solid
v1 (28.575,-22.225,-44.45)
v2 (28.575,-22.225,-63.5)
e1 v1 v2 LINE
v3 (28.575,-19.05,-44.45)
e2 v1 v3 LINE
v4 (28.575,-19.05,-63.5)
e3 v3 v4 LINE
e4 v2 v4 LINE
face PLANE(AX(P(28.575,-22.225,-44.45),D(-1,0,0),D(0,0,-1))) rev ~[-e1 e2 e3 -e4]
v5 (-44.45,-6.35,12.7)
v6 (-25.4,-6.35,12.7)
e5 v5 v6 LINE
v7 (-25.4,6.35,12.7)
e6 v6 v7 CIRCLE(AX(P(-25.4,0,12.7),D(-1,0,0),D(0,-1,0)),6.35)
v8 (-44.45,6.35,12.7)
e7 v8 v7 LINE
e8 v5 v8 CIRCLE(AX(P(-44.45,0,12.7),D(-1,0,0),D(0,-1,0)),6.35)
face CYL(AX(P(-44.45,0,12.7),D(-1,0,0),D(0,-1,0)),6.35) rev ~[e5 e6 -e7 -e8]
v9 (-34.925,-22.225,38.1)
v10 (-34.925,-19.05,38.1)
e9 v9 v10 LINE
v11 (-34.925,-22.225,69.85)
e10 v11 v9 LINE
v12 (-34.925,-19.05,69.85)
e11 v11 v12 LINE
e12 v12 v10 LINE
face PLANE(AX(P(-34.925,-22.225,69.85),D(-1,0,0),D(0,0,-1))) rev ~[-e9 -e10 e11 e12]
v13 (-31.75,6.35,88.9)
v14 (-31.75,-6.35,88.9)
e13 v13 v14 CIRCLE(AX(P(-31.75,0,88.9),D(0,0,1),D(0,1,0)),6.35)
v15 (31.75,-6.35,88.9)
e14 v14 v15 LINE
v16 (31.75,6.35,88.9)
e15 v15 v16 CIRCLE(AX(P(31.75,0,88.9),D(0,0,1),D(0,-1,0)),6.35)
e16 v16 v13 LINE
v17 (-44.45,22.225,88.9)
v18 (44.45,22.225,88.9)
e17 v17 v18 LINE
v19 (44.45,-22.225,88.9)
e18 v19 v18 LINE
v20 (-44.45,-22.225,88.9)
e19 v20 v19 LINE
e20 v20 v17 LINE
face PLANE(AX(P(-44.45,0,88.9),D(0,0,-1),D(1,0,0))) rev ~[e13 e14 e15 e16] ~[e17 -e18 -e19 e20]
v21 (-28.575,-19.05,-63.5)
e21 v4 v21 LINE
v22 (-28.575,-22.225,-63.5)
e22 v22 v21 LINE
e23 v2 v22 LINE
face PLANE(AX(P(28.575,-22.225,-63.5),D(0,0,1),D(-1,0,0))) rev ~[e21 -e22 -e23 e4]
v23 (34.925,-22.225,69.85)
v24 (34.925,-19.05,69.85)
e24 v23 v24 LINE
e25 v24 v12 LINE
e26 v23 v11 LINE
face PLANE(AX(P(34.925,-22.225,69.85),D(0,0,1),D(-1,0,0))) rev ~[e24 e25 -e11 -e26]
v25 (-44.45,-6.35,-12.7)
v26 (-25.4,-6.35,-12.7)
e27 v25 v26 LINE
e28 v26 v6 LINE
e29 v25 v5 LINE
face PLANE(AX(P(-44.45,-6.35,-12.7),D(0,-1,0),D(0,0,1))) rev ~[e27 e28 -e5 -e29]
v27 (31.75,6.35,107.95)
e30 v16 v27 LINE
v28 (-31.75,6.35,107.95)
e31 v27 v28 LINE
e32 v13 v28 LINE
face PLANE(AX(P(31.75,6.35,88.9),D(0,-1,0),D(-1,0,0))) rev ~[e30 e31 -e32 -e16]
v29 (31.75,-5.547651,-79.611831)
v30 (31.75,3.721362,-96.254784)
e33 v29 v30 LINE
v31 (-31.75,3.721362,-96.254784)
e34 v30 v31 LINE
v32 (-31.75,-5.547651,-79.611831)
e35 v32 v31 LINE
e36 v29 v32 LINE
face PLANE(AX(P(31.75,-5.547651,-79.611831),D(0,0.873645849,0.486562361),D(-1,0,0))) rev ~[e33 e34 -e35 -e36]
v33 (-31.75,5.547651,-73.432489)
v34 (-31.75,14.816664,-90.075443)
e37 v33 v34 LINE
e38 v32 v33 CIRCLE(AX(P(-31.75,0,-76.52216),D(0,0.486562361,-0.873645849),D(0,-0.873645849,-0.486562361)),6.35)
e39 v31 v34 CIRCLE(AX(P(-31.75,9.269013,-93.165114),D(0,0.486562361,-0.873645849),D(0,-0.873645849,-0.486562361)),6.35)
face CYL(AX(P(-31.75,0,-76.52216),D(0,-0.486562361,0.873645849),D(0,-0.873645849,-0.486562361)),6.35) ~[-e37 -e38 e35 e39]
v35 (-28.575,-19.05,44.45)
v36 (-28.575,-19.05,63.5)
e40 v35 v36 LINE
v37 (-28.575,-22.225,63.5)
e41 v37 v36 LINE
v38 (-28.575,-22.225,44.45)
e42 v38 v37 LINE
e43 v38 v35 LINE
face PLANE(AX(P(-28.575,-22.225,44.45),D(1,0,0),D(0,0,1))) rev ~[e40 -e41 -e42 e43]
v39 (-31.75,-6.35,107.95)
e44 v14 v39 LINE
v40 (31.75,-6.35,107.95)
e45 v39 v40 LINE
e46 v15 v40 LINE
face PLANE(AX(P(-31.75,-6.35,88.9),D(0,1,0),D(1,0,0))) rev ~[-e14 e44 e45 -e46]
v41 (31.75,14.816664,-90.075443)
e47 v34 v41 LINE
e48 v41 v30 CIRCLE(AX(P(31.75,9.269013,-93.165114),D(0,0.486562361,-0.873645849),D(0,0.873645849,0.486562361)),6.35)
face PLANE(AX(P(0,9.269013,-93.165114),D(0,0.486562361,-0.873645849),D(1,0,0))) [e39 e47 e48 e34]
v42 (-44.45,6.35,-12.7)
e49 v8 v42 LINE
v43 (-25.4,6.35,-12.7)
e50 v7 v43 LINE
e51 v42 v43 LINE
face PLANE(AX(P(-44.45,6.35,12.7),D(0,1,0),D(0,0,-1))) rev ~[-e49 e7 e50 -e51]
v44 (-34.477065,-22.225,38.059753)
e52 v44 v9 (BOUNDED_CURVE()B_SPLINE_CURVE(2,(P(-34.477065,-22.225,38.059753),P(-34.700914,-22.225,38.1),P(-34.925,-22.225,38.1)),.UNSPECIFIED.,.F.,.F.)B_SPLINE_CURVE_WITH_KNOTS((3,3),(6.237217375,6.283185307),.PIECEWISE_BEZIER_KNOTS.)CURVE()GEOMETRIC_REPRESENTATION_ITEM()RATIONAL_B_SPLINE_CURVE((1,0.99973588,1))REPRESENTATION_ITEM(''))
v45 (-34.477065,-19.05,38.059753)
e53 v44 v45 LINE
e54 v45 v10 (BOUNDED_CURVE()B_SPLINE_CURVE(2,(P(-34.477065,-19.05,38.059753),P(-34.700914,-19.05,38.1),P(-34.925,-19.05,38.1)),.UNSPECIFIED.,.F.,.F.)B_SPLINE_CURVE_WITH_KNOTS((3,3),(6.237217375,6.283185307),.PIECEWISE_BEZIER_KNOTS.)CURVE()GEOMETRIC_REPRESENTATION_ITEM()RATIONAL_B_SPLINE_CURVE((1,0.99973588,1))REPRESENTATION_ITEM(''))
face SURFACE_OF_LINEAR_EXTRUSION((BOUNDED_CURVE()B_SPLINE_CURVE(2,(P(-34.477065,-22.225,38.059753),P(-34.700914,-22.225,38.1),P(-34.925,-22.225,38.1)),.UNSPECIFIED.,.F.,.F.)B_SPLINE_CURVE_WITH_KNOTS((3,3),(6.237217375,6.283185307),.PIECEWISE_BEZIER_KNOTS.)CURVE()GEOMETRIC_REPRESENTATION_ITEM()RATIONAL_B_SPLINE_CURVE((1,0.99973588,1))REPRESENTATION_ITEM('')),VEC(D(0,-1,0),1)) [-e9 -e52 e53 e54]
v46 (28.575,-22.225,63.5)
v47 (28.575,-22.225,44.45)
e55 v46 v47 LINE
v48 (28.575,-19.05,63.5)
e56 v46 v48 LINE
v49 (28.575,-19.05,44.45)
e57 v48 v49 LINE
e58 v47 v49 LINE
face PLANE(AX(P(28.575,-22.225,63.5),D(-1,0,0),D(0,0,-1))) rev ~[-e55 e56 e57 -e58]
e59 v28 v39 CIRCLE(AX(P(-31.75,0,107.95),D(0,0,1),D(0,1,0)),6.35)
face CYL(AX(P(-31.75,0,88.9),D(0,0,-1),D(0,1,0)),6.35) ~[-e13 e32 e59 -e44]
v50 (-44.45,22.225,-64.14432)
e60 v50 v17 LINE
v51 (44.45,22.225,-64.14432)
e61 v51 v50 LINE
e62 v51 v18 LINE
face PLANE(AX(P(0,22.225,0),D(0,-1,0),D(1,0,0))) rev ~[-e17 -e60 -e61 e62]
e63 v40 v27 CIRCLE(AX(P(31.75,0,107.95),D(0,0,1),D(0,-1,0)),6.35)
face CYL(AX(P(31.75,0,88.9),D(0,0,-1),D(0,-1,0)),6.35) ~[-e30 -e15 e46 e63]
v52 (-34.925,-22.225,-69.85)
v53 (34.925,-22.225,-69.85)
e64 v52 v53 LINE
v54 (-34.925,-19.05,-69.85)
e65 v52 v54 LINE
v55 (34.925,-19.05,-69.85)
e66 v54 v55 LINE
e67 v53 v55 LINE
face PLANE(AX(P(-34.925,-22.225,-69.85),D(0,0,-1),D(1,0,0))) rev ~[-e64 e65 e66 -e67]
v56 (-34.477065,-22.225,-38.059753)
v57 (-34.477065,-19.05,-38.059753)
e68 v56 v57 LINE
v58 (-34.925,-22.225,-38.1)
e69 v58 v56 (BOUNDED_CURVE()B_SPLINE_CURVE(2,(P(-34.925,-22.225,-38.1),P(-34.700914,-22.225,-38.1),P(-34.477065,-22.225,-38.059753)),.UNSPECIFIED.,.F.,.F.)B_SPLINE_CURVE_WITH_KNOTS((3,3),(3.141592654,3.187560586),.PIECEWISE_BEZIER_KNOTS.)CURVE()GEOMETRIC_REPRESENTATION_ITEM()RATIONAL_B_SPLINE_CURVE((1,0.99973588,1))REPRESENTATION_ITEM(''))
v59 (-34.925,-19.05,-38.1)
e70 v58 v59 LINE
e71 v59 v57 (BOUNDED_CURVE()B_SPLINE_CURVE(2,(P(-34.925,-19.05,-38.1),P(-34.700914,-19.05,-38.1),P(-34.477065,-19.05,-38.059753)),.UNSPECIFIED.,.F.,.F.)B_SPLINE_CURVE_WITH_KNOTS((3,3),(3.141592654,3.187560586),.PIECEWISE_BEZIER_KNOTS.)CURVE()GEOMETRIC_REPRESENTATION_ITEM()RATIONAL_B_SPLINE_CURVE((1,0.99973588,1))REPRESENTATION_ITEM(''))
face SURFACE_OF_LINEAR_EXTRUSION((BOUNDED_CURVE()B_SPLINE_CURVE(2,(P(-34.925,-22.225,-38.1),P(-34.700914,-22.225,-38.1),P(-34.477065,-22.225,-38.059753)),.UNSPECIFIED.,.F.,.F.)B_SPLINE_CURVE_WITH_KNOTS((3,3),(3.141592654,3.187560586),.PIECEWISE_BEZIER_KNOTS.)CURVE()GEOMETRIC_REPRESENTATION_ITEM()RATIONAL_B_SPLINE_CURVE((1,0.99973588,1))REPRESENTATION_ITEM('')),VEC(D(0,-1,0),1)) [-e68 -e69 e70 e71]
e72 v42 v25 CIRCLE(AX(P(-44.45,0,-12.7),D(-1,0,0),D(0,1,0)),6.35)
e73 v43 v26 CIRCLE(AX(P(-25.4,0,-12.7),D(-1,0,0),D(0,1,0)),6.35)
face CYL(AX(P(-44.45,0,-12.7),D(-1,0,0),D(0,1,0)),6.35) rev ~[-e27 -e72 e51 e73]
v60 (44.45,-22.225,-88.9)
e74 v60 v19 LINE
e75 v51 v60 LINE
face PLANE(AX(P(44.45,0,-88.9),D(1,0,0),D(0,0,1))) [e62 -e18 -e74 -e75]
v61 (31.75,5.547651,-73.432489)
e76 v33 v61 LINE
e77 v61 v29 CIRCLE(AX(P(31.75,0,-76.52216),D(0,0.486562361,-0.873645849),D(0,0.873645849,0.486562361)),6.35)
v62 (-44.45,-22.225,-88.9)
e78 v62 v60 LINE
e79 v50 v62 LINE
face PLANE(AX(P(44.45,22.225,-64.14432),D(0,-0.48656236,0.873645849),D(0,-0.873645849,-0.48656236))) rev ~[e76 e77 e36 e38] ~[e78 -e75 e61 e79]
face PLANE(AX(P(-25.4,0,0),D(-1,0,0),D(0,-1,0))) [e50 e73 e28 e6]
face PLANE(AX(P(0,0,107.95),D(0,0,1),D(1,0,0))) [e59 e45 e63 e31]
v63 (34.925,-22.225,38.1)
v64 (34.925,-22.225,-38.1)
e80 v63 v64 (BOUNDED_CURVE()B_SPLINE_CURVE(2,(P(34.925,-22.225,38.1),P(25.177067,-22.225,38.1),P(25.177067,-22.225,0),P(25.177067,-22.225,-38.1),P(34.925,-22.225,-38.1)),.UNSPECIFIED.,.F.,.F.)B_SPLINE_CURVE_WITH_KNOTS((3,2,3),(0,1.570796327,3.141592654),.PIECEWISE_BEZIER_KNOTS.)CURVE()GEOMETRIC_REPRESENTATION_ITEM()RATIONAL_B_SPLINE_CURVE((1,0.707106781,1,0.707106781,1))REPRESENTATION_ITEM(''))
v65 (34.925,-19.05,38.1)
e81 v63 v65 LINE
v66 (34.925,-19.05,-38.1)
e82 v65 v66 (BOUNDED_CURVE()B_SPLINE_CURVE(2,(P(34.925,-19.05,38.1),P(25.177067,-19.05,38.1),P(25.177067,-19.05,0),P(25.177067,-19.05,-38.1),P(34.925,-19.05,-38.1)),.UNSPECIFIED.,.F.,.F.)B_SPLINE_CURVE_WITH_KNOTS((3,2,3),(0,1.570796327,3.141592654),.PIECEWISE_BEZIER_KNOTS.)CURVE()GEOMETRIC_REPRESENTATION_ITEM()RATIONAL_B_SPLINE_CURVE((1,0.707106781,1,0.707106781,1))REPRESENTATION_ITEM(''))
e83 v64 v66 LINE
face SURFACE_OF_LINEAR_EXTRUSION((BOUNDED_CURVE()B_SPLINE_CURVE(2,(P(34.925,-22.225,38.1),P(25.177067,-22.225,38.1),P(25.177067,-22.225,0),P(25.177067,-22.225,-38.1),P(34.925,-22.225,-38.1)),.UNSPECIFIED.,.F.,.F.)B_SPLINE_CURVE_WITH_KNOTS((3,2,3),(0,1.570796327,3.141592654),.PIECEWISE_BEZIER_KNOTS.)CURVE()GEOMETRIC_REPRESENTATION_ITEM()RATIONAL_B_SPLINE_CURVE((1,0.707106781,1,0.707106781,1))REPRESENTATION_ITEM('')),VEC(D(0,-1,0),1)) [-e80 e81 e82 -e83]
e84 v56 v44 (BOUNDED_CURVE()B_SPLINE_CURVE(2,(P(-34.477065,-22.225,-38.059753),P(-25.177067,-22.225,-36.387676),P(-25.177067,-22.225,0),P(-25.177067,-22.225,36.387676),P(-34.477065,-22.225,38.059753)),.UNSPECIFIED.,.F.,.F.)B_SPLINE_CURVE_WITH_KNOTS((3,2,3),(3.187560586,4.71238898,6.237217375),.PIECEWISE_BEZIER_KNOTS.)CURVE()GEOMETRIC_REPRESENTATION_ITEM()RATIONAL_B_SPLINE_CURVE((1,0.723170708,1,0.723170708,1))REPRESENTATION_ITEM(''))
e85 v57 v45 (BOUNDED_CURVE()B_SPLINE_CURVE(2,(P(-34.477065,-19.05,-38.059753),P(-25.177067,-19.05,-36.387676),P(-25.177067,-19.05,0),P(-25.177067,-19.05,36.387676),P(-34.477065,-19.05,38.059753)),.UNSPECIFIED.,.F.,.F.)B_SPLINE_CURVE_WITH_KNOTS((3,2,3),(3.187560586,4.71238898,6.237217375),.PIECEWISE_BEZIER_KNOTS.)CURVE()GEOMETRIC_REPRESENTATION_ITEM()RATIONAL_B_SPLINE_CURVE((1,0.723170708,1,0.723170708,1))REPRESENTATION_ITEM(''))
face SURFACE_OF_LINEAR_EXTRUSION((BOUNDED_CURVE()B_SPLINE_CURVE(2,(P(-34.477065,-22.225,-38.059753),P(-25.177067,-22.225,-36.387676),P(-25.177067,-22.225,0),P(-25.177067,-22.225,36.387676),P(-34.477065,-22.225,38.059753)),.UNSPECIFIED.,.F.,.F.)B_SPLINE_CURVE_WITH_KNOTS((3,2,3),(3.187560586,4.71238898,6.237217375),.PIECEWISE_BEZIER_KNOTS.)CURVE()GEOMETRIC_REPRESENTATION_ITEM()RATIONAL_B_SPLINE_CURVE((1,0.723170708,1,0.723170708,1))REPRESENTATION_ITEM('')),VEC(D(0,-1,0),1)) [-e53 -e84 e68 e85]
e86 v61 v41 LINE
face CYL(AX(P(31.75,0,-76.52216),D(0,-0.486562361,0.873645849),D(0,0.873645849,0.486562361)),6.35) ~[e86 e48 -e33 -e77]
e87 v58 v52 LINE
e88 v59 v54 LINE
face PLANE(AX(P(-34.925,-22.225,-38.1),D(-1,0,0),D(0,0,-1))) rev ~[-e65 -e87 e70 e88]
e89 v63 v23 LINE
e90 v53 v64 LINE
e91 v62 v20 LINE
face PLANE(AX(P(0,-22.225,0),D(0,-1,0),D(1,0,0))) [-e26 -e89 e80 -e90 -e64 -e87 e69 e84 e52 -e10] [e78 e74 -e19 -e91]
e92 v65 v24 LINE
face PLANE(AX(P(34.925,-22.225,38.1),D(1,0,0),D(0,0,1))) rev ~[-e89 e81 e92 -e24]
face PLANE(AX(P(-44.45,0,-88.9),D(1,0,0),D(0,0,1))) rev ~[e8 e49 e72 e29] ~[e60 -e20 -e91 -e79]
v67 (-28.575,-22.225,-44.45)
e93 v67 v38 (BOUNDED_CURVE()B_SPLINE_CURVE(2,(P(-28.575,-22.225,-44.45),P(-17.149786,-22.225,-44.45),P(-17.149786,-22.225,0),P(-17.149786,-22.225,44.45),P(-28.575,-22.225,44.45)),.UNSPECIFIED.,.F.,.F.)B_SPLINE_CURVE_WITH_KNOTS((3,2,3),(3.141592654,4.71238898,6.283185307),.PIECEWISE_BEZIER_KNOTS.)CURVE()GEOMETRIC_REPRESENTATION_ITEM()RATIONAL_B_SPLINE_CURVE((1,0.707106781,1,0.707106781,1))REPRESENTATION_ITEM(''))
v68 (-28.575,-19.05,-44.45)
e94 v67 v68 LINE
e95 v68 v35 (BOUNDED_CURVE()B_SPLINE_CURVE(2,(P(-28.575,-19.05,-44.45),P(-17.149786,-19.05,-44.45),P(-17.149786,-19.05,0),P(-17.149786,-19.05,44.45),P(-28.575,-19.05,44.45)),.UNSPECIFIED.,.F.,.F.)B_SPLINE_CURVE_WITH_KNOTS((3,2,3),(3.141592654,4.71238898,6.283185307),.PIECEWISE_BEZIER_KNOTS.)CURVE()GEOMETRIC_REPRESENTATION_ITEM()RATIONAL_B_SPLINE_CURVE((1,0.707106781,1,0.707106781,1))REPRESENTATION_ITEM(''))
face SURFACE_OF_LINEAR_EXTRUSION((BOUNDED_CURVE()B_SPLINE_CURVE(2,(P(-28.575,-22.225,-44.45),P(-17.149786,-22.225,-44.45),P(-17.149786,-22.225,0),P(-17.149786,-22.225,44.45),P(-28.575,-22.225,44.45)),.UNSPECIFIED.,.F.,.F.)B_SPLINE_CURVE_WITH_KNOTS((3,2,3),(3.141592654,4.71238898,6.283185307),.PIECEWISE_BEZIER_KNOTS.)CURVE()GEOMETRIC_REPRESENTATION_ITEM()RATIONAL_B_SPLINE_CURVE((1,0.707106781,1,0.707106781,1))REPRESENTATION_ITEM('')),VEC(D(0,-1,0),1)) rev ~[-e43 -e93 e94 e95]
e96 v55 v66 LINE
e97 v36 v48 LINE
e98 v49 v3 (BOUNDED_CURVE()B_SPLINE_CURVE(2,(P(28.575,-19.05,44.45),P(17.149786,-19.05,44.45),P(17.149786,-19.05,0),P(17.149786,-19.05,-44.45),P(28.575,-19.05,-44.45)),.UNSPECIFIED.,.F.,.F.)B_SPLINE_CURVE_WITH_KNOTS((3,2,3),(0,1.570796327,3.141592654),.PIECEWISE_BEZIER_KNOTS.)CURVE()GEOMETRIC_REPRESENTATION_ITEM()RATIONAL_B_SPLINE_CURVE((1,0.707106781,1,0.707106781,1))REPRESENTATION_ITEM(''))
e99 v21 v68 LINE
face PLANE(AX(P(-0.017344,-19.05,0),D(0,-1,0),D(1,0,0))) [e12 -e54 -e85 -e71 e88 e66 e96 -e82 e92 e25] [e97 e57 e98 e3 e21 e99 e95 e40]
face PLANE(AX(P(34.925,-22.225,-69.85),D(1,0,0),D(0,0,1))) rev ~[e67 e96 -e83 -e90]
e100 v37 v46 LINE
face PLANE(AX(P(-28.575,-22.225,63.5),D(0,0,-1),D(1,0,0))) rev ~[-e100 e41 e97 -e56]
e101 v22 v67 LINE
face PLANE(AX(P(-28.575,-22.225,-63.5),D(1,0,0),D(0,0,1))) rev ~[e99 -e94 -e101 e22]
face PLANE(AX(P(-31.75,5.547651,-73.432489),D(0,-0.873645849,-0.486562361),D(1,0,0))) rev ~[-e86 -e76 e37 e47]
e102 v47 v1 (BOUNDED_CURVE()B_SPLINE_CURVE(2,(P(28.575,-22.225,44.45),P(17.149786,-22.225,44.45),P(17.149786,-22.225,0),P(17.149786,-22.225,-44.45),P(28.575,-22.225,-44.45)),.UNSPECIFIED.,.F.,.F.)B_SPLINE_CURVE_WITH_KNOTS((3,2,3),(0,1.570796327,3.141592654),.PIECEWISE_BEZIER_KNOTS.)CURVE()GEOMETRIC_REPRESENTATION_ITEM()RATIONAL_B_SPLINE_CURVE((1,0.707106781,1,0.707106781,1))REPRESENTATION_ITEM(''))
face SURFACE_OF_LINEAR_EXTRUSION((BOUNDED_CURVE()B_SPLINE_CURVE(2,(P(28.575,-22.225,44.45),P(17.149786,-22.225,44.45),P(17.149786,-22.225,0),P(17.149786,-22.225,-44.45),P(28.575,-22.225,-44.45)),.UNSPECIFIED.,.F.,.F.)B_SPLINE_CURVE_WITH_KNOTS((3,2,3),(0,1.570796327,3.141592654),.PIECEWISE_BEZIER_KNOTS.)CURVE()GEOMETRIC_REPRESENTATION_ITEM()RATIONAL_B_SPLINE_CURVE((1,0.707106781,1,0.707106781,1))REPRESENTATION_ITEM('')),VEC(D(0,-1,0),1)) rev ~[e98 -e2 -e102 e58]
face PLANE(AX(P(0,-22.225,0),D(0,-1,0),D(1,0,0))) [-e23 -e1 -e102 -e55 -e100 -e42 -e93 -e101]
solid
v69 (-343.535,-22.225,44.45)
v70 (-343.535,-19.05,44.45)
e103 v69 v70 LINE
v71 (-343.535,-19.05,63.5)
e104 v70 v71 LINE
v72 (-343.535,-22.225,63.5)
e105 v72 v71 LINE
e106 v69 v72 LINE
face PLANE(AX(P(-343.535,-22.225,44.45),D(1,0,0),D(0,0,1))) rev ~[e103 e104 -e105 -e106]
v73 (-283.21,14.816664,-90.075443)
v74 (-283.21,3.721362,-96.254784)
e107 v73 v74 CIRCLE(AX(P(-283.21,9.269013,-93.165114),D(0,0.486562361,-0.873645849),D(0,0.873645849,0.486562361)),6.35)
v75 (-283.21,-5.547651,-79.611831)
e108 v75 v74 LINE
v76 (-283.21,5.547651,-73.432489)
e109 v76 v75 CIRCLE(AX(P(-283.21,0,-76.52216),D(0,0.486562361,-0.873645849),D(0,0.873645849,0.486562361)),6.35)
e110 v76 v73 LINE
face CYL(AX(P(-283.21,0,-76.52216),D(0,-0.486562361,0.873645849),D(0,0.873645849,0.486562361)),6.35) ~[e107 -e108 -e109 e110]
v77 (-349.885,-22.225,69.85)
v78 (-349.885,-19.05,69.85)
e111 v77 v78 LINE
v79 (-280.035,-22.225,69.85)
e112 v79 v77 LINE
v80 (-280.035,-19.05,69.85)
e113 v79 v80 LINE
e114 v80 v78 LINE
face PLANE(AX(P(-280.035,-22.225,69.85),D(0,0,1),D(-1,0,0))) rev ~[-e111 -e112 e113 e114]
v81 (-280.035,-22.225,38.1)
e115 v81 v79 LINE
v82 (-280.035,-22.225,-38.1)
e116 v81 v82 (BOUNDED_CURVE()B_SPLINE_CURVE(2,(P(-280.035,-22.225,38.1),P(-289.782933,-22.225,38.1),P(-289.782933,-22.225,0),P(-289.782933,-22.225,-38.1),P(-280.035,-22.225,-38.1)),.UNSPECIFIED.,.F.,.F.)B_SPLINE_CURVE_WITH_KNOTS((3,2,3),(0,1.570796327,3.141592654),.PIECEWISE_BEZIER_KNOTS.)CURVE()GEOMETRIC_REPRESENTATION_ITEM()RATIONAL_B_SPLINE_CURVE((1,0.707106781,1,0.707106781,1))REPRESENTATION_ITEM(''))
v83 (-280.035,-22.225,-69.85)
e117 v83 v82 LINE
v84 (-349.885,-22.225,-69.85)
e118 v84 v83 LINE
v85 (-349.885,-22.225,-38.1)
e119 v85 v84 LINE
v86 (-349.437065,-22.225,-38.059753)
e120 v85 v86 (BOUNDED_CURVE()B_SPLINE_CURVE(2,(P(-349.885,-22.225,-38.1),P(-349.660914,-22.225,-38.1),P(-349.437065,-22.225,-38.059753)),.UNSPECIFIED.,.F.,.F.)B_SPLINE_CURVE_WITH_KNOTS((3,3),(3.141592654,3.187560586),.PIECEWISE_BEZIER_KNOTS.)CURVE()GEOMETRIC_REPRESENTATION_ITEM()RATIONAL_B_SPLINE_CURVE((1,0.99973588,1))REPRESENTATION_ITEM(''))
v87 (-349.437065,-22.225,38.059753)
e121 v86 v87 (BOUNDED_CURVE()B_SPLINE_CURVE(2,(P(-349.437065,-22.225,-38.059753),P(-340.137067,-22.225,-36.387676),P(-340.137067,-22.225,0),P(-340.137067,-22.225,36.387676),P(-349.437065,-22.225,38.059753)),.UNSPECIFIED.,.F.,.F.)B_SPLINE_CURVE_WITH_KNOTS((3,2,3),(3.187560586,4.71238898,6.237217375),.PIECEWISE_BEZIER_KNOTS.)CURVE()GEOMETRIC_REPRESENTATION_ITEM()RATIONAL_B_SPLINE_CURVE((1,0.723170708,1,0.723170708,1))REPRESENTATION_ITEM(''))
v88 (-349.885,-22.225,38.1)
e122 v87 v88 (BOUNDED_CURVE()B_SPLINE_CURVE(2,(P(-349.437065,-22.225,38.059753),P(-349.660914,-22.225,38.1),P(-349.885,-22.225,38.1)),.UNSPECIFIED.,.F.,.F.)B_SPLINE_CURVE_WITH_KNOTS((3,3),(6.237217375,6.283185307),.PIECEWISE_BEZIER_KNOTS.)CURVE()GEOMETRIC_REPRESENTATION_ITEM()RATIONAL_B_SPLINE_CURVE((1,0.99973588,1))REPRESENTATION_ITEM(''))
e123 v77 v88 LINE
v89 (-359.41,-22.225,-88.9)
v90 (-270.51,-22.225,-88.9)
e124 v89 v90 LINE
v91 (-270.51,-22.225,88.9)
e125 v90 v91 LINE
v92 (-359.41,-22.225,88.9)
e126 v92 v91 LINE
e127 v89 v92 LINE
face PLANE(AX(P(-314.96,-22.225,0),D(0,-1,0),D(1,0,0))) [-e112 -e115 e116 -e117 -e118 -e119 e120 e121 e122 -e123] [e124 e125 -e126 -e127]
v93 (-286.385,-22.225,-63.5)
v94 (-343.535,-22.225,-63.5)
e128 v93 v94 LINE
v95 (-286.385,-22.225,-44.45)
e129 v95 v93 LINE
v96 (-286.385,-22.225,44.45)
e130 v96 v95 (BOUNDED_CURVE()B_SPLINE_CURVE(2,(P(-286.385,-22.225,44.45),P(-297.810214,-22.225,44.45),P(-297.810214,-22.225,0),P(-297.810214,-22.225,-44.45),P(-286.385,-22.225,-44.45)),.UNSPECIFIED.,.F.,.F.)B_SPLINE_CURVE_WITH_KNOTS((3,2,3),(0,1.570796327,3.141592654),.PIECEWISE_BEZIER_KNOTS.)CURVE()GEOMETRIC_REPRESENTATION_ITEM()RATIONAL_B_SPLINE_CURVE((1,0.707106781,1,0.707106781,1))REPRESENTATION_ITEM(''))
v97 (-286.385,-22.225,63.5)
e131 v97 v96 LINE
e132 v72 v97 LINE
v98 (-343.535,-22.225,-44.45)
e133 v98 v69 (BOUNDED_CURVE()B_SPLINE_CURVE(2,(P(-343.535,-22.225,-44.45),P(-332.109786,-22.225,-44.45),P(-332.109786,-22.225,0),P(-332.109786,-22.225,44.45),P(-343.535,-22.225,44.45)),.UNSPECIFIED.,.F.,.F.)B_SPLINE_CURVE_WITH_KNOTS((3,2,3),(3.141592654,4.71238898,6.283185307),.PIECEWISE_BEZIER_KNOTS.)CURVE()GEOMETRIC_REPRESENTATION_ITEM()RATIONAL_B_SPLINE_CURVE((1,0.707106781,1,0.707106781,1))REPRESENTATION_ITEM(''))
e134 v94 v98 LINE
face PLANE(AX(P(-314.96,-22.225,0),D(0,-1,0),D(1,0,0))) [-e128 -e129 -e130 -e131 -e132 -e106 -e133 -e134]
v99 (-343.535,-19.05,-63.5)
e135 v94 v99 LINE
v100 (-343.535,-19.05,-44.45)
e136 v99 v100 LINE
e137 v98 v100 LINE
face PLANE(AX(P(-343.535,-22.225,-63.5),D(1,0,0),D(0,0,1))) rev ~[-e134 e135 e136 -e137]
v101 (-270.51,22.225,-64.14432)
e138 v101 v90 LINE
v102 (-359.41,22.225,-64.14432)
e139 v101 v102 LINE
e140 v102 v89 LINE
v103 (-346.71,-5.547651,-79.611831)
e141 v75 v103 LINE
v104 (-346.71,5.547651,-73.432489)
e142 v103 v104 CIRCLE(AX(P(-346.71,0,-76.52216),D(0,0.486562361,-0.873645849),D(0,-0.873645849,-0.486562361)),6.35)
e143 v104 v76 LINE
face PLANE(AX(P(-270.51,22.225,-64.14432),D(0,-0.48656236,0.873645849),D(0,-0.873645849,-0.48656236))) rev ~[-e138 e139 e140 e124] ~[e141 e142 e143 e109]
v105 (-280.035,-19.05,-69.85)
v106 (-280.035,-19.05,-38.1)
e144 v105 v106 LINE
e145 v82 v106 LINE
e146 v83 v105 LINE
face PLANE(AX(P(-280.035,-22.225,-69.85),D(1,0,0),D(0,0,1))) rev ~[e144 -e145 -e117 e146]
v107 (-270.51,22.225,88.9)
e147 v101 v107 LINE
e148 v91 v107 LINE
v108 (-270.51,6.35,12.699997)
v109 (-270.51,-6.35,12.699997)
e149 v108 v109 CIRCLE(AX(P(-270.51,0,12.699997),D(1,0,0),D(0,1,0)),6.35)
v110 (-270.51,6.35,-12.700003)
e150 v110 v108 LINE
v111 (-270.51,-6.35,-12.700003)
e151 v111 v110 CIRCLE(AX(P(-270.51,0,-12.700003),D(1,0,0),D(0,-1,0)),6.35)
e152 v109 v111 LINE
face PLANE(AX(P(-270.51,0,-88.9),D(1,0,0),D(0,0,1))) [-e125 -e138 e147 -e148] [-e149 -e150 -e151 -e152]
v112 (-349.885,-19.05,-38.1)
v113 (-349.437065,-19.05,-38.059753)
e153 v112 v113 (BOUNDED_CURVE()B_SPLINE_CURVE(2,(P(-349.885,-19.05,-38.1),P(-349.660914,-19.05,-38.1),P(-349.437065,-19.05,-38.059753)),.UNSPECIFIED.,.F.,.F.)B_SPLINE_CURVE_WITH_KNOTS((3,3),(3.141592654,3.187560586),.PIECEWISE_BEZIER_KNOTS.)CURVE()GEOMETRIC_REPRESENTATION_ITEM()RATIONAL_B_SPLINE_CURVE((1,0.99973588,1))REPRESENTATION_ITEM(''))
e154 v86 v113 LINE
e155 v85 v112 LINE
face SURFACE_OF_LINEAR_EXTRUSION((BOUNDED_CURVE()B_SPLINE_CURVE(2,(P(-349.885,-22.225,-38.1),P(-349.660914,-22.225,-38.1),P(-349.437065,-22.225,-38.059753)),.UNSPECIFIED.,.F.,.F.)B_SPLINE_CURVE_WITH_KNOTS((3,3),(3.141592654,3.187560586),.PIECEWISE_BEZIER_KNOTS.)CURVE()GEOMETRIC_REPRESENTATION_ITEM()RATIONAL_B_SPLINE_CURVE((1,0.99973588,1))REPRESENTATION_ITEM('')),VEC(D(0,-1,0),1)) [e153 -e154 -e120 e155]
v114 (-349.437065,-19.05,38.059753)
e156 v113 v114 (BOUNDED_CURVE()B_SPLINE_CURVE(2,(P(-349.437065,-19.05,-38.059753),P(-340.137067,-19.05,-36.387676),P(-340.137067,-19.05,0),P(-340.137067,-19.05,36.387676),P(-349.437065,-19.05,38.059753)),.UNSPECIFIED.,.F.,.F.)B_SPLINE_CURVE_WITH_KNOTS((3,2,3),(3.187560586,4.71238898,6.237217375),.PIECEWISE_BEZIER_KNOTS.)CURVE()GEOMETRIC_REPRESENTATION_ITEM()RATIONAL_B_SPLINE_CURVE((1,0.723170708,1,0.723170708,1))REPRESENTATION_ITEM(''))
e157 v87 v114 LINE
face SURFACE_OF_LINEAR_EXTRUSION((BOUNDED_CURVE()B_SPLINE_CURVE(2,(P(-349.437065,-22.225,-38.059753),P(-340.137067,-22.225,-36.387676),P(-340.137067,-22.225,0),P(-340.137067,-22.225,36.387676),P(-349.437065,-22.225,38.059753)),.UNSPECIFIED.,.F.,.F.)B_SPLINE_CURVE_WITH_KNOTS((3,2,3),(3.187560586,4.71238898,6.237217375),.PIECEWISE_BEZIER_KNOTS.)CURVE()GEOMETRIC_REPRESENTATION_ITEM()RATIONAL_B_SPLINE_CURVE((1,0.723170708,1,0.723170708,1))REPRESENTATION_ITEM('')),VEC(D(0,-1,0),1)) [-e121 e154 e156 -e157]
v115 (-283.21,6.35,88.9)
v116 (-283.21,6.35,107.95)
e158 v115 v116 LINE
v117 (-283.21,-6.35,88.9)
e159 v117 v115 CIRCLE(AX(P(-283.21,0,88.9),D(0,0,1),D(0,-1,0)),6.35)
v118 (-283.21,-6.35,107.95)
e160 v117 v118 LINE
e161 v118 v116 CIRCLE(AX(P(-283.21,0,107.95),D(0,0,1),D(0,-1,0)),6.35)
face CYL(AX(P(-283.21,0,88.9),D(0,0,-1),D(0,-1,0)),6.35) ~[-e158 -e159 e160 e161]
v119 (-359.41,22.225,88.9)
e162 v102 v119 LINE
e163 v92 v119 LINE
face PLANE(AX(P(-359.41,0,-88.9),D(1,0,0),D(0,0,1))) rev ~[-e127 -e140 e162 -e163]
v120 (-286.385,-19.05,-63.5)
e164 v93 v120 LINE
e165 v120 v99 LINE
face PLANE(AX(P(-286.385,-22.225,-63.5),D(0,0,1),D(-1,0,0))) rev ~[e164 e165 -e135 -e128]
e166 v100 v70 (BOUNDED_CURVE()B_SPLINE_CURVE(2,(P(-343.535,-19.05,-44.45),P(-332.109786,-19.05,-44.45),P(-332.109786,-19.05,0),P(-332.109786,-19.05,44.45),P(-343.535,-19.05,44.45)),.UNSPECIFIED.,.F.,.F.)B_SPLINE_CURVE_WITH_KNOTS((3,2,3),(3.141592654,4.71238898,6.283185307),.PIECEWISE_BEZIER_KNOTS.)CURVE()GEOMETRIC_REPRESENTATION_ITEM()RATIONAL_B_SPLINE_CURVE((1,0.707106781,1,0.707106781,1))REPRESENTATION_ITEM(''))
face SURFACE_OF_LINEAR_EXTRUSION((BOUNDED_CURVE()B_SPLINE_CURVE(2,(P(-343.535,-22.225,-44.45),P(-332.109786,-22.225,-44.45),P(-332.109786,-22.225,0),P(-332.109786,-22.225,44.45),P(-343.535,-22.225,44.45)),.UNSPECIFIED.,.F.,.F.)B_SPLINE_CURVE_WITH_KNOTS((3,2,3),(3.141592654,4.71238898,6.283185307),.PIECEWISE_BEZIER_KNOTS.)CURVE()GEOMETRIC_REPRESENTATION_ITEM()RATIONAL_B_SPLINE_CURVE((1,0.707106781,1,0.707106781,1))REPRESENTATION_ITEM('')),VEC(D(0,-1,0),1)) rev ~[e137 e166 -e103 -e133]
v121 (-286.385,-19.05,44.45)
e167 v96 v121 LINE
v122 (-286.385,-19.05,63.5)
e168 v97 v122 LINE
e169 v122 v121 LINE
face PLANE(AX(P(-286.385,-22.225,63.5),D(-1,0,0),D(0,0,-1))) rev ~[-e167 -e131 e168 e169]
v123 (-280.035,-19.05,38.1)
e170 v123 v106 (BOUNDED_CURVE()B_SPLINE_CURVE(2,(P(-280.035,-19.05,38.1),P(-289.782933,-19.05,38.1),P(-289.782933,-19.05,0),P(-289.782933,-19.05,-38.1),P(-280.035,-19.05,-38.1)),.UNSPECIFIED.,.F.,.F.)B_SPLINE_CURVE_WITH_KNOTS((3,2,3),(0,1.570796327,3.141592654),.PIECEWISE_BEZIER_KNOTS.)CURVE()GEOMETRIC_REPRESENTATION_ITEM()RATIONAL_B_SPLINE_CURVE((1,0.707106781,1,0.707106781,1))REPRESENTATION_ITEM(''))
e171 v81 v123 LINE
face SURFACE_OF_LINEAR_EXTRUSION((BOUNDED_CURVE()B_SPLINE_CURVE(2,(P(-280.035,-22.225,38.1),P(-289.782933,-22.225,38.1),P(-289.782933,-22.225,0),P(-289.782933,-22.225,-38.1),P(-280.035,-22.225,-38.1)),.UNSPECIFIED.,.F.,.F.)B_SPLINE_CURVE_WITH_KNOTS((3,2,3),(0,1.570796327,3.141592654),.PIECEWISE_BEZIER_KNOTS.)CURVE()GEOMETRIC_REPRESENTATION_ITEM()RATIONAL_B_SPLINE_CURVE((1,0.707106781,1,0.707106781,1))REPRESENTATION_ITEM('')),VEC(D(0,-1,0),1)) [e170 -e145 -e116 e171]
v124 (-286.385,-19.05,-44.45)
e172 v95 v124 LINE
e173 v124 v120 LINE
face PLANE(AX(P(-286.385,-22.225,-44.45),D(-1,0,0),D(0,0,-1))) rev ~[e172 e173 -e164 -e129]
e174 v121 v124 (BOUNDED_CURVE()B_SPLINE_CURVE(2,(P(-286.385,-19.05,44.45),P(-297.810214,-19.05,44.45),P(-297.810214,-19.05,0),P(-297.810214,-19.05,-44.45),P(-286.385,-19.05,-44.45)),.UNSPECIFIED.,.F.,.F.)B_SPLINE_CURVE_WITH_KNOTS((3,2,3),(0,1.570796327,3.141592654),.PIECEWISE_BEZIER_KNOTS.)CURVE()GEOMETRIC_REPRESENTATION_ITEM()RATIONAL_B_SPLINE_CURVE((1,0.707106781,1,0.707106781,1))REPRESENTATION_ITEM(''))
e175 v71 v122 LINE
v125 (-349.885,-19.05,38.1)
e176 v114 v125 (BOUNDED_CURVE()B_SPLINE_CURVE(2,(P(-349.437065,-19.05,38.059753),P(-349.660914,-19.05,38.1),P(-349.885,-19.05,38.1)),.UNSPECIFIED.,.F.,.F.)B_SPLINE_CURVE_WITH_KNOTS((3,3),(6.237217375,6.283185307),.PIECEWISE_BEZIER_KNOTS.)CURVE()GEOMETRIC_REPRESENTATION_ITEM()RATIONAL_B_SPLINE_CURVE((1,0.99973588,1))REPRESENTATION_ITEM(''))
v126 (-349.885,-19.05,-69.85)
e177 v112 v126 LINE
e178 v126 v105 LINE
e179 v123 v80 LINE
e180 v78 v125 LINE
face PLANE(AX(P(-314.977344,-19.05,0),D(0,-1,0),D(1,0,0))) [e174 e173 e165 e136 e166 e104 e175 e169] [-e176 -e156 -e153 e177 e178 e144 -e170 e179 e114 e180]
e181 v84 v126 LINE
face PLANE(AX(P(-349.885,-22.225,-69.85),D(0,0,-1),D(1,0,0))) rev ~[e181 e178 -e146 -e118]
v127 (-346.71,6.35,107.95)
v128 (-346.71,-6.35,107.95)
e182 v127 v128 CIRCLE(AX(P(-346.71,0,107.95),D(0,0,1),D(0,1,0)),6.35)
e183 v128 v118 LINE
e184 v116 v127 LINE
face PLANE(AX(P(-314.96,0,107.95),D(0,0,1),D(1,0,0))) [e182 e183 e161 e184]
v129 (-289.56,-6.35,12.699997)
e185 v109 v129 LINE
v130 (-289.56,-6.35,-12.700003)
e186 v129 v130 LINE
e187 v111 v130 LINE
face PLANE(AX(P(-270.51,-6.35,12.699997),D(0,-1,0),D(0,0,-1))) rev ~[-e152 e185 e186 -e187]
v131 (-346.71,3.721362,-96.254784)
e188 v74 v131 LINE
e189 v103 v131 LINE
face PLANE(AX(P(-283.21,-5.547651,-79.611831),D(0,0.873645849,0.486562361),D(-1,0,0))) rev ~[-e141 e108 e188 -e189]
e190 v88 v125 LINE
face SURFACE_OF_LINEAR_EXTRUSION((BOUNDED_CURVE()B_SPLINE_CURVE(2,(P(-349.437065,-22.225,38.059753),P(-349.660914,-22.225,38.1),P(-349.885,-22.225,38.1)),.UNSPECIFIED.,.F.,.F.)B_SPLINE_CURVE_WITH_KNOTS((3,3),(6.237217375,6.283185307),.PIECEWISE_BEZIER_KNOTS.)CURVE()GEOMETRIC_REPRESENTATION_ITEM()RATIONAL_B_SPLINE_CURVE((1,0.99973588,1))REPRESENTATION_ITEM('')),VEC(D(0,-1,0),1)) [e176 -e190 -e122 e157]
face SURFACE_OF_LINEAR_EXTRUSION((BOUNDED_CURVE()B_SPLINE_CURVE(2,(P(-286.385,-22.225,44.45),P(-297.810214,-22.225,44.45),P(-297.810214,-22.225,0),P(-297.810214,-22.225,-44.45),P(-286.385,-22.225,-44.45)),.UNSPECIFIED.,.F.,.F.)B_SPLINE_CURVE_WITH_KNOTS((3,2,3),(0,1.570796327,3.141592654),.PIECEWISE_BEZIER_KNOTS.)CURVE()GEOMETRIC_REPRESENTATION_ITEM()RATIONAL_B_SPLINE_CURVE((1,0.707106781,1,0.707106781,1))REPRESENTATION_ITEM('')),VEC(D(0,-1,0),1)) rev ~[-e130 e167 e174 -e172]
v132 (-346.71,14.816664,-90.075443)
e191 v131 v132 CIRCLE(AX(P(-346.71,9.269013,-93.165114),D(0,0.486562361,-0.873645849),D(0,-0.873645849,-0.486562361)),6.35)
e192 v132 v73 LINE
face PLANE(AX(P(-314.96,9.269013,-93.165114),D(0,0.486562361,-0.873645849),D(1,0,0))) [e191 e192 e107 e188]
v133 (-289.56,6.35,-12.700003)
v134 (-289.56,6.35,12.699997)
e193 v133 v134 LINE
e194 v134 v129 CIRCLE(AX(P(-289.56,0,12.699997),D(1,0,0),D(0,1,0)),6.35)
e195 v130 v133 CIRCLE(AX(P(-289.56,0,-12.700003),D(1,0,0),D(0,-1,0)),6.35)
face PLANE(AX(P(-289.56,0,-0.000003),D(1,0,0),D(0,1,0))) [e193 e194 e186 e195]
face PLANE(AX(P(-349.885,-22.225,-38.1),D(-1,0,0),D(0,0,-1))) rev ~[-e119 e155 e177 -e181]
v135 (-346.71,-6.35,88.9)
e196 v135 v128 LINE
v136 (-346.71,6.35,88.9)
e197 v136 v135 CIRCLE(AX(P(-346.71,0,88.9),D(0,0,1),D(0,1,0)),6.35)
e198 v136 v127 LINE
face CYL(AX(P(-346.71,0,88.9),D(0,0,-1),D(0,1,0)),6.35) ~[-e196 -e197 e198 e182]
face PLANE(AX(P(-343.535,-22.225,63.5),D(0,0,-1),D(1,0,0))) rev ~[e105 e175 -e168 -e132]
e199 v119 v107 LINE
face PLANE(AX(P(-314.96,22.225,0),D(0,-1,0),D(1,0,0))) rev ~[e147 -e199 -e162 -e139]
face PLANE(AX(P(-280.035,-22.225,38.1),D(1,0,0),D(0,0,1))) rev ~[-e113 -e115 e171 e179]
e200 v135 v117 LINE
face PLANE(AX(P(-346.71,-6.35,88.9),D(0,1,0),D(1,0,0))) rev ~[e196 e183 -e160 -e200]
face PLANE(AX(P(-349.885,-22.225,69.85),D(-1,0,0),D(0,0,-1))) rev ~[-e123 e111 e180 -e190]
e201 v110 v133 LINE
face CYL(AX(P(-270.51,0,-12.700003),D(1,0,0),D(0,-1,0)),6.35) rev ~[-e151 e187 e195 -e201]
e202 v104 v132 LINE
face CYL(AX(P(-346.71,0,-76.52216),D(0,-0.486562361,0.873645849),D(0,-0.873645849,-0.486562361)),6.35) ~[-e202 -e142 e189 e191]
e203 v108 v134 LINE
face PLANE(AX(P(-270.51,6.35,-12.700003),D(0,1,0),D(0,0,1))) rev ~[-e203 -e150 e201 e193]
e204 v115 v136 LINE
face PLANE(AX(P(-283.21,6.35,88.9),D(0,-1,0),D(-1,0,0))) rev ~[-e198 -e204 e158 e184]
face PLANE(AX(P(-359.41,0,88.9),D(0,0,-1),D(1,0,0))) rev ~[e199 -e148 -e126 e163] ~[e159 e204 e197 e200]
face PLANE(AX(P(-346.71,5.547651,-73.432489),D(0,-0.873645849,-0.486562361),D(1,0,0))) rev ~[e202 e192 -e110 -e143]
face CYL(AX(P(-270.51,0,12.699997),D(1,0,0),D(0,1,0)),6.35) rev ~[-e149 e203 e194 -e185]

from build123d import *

# Parameters (mm, degrees)
F0_W      = 88.9
F0_H      = 177.8
F1_DEPTH  = 22.225
F3_DEPTH  = 19.05
F5_DEPTH  = 3.175
F7_DEPTH  = 88.9
F9_DEPTH  = 19.05
F12_DEPTH = 19.05
F14_DEPTH = 19.05


with BuildPart() as f1:
    # F0 (on Front) → F1 (new body, symmetric)
    with BuildSketch(Plane.XZ):
        Rectangle(F0_W, F0_H)
    extrude(amount=F1_DEPTH, both=True)

    # F2 (on face) → F3 (join)
    with BuildSketch(Plane.XY.offset(88.9)):
        with BuildLine():
            Line((31.75, 6.35), (-31.75, 6.35))
            ThreePointArc((-31.75, 6.35), (-38.1, 0), (-31.75, -6.35))
            Line((-31.75, -6.35), (31.75, -6.35))
            ThreePointArc((31.75, -6.35), (38.1, 0), (31.75, 6.35))
        make_face()
    extrude(amount=F3_DEPTH)

    # F4 (on face) → F5 (cut)
    with BuildSketch(Plane.XZ.offset(22.225)):
        with BuildLine():
            Line((34.925, 69.85), (-34.925, 69.85))
            Line((-34.925, 69.85), (-34.925, 38.1))
            add(Edge.make_bspline(
                [(-34.4770654637, 38.0597534694), (-34.7009143766, 38.1), (-34.925, 38.1)],
                knots=[6.2372173746, 6.2372173746, 6.2372173746, 6.2831853072, 6.2831853072, 6.2831853072], degree=2, weights=[1, 0.9997358803, 1]))
            add(Edge.make_bspline(
                [(-34.4770654637, -38.0597534694), (-25.1770670159, -36.3876762294), (-25.1770670159, 0), (-25.1770670159, 36.3876762294), (-34.4770654637, 38.0597534694)],
                knots=[3.1875605862, 3.1875605862, 3.1875605862, 4.7123889804, 4.7123889804, 6.2372173746, 6.2372173746, 6.2372173746], degree=2, weights=[1, 0.7231707079, 1, 0.7231707079, 1]))
            add(Edge.make_bspline(
                [(-34.925, -38.1), (-34.7009143766, -38.1), (-34.4770654637, -38.0597534694)],
                knots=[3.1415926536, 3.1415926536, 3.1415926536, 3.1875605862, 3.1875605862, 3.1875605862], degree=2, weights=[1, 0.9997358803, 1]))
            Line((-34.925, -38.1), (-34.925, -69.85))
            Line((-34.925, -69.85), (34.925, -69.85))
            Line((34.925, -69.85), (34.925, -38.1))
            add(Edge.make_bspline(
                [(34.925, 38.1), (25.1770670159, 38.1), (25.1770670159, 0), (25.1770670159, -38.1), (34.925, -38.1)],
                knots=[0, 0, 0, 1.5707963268, 1.5707963268, 3.1415926536, 3.1415926536, 3.1415926536], degree=2, weights=[1, 0.7071067812, 1, 0.7071067812, 1]))
            Line((34.925, 38.1), (34.925, 69.85))
        make_face()
        with BuildLine():
            Line((-28.575, 44.45), (-28.575, 63.5))
            Line((-28.575, 63.5), (28.575, 63.5))
            Line((28.575, 63.5), (28.575, 44.45))
            add(Edge.make_bspline(
                [(28.575, 44.45), (17.149786189, 44.45), (17.149786189, 0), (17.149786189, -44.45), (28.575, -44.45)],
                knots=[0, 0, 0, 1.5707963268, 1.5707963268, 3.1415926536, 3.1415926536, 3.1415926536], degree=2, weights=[1, 0.7071067812, 1, 0.7071067812, 1]))
            Line((28.575, -44.45), (28.575, -63.5))
            Line((28.575, -63.5), (-28.575, -63.5))
            Line((-28.575, -63.5), (-28.575, -44.45))
            add(Edge.make_bspline(
                [(-28.575, -44.45), (-17.149786189, -44.45), (-17.149786189, 0), (-17.149786189, 44.45), (-28.575, 44.45)],
                knots=[3.1415926536, 3.1415926536, 3.1415926536, 4.7123889804, 4.7123889804, 6.2831853072, 6.2831853072, 6.2831853072], degree=2, weights=[1, 0.7071067812, 1, 0.7071067812, 1]))
        make_face(mode=Mode.SUBTRACT)
    extrude(amount=-F5_DEPTH, mode=Mode.SUBTRACT)

    # F6 (on face) → F7 (cut)
    with BuildSketch(Plane.YZ.offset(44.45)):
        Polygon((22.225, -64.1443201671), (-22.225, -88.9), (22.225, -88.9), align=None)
    extrude(amount=-F7_DEPTH, mode=Mode.SUBTRACT)

    # F8 (on face) → F9 (join)
    with BuildSketch(Plane(origin=(0, 32.528283645, -58.4060796465), x_dir=(1, 0, 0), z_dir=(0, 0.4865623605, -0.8736458489))):
        with BuildLine():
            ThreePointArc((-31.75, 43.5828028396), (-38.1, 37.2328028396), (-31.75, 30.8828028396))
            Line((-31.75, 30.8828028396), (31.75, 30.8828028396))
            ThreePointArc((31.75, 30.8828028396), (38.1, 37.2328028396), (31.75, 43.5828028396))
            Line((31.75, 43.5828028396), (-31.75, 43.5828028396))
        make_face()
    extrude(amount=F9_DEPTH)


with BuildPart() as f10_1:
    # F10: copy of F1
    add(f1.part.moved(Location((-314.96, 0, 0))))

    # F13 (on face) → F14 (cut)
    with BuildSketch(Plane.YZ.offset(-270.51)):
        with BuildLine():
            ThreePointArc((-6.35, -12.7000034092), (0, -19.0500034092), (6.35, -12.7000034092))
            Line((6.35, -12.7000034092), (6.35, 12.6999965908))
            ThreePointArc((6.35, 12.6999965908), (0, 19.0499965908), (-6.35, 12.6999965908))
            Line((-6.35, 12.6999965908), (-6.35, -12.7000034092))
        make_face()
    extrude(amount=-F14_DEPTH, mode=Mode.SUBTRACT)


with BuildPart() as f1_1:
    add(f1.part)

    # F11 (on face) → F12 (cut)
    with BuildSketch(Plane(origin=(-44.45, 0, 0), x_dir=(0, -1, 0), z_dir=(-1, 0, 0))):
        with BuildLine():
            ThreePointArc((-6.35, -12.7), (0, -19.05), (6.35, -12.7))
            Line((6.35, -12.7), (6.35, 12.7))
            ThreePointArc((6.35, 12.7), (0, 19.05), (-6.35, 12.7))
            Line((-6.35, 12.7), (-6.35, -12.7))
        make_face()
    extrude(amount=-F12_DEPTH, mode=Mode.SUBTRACT)


solid = Compound([f10_1.part, f1_1.part])
